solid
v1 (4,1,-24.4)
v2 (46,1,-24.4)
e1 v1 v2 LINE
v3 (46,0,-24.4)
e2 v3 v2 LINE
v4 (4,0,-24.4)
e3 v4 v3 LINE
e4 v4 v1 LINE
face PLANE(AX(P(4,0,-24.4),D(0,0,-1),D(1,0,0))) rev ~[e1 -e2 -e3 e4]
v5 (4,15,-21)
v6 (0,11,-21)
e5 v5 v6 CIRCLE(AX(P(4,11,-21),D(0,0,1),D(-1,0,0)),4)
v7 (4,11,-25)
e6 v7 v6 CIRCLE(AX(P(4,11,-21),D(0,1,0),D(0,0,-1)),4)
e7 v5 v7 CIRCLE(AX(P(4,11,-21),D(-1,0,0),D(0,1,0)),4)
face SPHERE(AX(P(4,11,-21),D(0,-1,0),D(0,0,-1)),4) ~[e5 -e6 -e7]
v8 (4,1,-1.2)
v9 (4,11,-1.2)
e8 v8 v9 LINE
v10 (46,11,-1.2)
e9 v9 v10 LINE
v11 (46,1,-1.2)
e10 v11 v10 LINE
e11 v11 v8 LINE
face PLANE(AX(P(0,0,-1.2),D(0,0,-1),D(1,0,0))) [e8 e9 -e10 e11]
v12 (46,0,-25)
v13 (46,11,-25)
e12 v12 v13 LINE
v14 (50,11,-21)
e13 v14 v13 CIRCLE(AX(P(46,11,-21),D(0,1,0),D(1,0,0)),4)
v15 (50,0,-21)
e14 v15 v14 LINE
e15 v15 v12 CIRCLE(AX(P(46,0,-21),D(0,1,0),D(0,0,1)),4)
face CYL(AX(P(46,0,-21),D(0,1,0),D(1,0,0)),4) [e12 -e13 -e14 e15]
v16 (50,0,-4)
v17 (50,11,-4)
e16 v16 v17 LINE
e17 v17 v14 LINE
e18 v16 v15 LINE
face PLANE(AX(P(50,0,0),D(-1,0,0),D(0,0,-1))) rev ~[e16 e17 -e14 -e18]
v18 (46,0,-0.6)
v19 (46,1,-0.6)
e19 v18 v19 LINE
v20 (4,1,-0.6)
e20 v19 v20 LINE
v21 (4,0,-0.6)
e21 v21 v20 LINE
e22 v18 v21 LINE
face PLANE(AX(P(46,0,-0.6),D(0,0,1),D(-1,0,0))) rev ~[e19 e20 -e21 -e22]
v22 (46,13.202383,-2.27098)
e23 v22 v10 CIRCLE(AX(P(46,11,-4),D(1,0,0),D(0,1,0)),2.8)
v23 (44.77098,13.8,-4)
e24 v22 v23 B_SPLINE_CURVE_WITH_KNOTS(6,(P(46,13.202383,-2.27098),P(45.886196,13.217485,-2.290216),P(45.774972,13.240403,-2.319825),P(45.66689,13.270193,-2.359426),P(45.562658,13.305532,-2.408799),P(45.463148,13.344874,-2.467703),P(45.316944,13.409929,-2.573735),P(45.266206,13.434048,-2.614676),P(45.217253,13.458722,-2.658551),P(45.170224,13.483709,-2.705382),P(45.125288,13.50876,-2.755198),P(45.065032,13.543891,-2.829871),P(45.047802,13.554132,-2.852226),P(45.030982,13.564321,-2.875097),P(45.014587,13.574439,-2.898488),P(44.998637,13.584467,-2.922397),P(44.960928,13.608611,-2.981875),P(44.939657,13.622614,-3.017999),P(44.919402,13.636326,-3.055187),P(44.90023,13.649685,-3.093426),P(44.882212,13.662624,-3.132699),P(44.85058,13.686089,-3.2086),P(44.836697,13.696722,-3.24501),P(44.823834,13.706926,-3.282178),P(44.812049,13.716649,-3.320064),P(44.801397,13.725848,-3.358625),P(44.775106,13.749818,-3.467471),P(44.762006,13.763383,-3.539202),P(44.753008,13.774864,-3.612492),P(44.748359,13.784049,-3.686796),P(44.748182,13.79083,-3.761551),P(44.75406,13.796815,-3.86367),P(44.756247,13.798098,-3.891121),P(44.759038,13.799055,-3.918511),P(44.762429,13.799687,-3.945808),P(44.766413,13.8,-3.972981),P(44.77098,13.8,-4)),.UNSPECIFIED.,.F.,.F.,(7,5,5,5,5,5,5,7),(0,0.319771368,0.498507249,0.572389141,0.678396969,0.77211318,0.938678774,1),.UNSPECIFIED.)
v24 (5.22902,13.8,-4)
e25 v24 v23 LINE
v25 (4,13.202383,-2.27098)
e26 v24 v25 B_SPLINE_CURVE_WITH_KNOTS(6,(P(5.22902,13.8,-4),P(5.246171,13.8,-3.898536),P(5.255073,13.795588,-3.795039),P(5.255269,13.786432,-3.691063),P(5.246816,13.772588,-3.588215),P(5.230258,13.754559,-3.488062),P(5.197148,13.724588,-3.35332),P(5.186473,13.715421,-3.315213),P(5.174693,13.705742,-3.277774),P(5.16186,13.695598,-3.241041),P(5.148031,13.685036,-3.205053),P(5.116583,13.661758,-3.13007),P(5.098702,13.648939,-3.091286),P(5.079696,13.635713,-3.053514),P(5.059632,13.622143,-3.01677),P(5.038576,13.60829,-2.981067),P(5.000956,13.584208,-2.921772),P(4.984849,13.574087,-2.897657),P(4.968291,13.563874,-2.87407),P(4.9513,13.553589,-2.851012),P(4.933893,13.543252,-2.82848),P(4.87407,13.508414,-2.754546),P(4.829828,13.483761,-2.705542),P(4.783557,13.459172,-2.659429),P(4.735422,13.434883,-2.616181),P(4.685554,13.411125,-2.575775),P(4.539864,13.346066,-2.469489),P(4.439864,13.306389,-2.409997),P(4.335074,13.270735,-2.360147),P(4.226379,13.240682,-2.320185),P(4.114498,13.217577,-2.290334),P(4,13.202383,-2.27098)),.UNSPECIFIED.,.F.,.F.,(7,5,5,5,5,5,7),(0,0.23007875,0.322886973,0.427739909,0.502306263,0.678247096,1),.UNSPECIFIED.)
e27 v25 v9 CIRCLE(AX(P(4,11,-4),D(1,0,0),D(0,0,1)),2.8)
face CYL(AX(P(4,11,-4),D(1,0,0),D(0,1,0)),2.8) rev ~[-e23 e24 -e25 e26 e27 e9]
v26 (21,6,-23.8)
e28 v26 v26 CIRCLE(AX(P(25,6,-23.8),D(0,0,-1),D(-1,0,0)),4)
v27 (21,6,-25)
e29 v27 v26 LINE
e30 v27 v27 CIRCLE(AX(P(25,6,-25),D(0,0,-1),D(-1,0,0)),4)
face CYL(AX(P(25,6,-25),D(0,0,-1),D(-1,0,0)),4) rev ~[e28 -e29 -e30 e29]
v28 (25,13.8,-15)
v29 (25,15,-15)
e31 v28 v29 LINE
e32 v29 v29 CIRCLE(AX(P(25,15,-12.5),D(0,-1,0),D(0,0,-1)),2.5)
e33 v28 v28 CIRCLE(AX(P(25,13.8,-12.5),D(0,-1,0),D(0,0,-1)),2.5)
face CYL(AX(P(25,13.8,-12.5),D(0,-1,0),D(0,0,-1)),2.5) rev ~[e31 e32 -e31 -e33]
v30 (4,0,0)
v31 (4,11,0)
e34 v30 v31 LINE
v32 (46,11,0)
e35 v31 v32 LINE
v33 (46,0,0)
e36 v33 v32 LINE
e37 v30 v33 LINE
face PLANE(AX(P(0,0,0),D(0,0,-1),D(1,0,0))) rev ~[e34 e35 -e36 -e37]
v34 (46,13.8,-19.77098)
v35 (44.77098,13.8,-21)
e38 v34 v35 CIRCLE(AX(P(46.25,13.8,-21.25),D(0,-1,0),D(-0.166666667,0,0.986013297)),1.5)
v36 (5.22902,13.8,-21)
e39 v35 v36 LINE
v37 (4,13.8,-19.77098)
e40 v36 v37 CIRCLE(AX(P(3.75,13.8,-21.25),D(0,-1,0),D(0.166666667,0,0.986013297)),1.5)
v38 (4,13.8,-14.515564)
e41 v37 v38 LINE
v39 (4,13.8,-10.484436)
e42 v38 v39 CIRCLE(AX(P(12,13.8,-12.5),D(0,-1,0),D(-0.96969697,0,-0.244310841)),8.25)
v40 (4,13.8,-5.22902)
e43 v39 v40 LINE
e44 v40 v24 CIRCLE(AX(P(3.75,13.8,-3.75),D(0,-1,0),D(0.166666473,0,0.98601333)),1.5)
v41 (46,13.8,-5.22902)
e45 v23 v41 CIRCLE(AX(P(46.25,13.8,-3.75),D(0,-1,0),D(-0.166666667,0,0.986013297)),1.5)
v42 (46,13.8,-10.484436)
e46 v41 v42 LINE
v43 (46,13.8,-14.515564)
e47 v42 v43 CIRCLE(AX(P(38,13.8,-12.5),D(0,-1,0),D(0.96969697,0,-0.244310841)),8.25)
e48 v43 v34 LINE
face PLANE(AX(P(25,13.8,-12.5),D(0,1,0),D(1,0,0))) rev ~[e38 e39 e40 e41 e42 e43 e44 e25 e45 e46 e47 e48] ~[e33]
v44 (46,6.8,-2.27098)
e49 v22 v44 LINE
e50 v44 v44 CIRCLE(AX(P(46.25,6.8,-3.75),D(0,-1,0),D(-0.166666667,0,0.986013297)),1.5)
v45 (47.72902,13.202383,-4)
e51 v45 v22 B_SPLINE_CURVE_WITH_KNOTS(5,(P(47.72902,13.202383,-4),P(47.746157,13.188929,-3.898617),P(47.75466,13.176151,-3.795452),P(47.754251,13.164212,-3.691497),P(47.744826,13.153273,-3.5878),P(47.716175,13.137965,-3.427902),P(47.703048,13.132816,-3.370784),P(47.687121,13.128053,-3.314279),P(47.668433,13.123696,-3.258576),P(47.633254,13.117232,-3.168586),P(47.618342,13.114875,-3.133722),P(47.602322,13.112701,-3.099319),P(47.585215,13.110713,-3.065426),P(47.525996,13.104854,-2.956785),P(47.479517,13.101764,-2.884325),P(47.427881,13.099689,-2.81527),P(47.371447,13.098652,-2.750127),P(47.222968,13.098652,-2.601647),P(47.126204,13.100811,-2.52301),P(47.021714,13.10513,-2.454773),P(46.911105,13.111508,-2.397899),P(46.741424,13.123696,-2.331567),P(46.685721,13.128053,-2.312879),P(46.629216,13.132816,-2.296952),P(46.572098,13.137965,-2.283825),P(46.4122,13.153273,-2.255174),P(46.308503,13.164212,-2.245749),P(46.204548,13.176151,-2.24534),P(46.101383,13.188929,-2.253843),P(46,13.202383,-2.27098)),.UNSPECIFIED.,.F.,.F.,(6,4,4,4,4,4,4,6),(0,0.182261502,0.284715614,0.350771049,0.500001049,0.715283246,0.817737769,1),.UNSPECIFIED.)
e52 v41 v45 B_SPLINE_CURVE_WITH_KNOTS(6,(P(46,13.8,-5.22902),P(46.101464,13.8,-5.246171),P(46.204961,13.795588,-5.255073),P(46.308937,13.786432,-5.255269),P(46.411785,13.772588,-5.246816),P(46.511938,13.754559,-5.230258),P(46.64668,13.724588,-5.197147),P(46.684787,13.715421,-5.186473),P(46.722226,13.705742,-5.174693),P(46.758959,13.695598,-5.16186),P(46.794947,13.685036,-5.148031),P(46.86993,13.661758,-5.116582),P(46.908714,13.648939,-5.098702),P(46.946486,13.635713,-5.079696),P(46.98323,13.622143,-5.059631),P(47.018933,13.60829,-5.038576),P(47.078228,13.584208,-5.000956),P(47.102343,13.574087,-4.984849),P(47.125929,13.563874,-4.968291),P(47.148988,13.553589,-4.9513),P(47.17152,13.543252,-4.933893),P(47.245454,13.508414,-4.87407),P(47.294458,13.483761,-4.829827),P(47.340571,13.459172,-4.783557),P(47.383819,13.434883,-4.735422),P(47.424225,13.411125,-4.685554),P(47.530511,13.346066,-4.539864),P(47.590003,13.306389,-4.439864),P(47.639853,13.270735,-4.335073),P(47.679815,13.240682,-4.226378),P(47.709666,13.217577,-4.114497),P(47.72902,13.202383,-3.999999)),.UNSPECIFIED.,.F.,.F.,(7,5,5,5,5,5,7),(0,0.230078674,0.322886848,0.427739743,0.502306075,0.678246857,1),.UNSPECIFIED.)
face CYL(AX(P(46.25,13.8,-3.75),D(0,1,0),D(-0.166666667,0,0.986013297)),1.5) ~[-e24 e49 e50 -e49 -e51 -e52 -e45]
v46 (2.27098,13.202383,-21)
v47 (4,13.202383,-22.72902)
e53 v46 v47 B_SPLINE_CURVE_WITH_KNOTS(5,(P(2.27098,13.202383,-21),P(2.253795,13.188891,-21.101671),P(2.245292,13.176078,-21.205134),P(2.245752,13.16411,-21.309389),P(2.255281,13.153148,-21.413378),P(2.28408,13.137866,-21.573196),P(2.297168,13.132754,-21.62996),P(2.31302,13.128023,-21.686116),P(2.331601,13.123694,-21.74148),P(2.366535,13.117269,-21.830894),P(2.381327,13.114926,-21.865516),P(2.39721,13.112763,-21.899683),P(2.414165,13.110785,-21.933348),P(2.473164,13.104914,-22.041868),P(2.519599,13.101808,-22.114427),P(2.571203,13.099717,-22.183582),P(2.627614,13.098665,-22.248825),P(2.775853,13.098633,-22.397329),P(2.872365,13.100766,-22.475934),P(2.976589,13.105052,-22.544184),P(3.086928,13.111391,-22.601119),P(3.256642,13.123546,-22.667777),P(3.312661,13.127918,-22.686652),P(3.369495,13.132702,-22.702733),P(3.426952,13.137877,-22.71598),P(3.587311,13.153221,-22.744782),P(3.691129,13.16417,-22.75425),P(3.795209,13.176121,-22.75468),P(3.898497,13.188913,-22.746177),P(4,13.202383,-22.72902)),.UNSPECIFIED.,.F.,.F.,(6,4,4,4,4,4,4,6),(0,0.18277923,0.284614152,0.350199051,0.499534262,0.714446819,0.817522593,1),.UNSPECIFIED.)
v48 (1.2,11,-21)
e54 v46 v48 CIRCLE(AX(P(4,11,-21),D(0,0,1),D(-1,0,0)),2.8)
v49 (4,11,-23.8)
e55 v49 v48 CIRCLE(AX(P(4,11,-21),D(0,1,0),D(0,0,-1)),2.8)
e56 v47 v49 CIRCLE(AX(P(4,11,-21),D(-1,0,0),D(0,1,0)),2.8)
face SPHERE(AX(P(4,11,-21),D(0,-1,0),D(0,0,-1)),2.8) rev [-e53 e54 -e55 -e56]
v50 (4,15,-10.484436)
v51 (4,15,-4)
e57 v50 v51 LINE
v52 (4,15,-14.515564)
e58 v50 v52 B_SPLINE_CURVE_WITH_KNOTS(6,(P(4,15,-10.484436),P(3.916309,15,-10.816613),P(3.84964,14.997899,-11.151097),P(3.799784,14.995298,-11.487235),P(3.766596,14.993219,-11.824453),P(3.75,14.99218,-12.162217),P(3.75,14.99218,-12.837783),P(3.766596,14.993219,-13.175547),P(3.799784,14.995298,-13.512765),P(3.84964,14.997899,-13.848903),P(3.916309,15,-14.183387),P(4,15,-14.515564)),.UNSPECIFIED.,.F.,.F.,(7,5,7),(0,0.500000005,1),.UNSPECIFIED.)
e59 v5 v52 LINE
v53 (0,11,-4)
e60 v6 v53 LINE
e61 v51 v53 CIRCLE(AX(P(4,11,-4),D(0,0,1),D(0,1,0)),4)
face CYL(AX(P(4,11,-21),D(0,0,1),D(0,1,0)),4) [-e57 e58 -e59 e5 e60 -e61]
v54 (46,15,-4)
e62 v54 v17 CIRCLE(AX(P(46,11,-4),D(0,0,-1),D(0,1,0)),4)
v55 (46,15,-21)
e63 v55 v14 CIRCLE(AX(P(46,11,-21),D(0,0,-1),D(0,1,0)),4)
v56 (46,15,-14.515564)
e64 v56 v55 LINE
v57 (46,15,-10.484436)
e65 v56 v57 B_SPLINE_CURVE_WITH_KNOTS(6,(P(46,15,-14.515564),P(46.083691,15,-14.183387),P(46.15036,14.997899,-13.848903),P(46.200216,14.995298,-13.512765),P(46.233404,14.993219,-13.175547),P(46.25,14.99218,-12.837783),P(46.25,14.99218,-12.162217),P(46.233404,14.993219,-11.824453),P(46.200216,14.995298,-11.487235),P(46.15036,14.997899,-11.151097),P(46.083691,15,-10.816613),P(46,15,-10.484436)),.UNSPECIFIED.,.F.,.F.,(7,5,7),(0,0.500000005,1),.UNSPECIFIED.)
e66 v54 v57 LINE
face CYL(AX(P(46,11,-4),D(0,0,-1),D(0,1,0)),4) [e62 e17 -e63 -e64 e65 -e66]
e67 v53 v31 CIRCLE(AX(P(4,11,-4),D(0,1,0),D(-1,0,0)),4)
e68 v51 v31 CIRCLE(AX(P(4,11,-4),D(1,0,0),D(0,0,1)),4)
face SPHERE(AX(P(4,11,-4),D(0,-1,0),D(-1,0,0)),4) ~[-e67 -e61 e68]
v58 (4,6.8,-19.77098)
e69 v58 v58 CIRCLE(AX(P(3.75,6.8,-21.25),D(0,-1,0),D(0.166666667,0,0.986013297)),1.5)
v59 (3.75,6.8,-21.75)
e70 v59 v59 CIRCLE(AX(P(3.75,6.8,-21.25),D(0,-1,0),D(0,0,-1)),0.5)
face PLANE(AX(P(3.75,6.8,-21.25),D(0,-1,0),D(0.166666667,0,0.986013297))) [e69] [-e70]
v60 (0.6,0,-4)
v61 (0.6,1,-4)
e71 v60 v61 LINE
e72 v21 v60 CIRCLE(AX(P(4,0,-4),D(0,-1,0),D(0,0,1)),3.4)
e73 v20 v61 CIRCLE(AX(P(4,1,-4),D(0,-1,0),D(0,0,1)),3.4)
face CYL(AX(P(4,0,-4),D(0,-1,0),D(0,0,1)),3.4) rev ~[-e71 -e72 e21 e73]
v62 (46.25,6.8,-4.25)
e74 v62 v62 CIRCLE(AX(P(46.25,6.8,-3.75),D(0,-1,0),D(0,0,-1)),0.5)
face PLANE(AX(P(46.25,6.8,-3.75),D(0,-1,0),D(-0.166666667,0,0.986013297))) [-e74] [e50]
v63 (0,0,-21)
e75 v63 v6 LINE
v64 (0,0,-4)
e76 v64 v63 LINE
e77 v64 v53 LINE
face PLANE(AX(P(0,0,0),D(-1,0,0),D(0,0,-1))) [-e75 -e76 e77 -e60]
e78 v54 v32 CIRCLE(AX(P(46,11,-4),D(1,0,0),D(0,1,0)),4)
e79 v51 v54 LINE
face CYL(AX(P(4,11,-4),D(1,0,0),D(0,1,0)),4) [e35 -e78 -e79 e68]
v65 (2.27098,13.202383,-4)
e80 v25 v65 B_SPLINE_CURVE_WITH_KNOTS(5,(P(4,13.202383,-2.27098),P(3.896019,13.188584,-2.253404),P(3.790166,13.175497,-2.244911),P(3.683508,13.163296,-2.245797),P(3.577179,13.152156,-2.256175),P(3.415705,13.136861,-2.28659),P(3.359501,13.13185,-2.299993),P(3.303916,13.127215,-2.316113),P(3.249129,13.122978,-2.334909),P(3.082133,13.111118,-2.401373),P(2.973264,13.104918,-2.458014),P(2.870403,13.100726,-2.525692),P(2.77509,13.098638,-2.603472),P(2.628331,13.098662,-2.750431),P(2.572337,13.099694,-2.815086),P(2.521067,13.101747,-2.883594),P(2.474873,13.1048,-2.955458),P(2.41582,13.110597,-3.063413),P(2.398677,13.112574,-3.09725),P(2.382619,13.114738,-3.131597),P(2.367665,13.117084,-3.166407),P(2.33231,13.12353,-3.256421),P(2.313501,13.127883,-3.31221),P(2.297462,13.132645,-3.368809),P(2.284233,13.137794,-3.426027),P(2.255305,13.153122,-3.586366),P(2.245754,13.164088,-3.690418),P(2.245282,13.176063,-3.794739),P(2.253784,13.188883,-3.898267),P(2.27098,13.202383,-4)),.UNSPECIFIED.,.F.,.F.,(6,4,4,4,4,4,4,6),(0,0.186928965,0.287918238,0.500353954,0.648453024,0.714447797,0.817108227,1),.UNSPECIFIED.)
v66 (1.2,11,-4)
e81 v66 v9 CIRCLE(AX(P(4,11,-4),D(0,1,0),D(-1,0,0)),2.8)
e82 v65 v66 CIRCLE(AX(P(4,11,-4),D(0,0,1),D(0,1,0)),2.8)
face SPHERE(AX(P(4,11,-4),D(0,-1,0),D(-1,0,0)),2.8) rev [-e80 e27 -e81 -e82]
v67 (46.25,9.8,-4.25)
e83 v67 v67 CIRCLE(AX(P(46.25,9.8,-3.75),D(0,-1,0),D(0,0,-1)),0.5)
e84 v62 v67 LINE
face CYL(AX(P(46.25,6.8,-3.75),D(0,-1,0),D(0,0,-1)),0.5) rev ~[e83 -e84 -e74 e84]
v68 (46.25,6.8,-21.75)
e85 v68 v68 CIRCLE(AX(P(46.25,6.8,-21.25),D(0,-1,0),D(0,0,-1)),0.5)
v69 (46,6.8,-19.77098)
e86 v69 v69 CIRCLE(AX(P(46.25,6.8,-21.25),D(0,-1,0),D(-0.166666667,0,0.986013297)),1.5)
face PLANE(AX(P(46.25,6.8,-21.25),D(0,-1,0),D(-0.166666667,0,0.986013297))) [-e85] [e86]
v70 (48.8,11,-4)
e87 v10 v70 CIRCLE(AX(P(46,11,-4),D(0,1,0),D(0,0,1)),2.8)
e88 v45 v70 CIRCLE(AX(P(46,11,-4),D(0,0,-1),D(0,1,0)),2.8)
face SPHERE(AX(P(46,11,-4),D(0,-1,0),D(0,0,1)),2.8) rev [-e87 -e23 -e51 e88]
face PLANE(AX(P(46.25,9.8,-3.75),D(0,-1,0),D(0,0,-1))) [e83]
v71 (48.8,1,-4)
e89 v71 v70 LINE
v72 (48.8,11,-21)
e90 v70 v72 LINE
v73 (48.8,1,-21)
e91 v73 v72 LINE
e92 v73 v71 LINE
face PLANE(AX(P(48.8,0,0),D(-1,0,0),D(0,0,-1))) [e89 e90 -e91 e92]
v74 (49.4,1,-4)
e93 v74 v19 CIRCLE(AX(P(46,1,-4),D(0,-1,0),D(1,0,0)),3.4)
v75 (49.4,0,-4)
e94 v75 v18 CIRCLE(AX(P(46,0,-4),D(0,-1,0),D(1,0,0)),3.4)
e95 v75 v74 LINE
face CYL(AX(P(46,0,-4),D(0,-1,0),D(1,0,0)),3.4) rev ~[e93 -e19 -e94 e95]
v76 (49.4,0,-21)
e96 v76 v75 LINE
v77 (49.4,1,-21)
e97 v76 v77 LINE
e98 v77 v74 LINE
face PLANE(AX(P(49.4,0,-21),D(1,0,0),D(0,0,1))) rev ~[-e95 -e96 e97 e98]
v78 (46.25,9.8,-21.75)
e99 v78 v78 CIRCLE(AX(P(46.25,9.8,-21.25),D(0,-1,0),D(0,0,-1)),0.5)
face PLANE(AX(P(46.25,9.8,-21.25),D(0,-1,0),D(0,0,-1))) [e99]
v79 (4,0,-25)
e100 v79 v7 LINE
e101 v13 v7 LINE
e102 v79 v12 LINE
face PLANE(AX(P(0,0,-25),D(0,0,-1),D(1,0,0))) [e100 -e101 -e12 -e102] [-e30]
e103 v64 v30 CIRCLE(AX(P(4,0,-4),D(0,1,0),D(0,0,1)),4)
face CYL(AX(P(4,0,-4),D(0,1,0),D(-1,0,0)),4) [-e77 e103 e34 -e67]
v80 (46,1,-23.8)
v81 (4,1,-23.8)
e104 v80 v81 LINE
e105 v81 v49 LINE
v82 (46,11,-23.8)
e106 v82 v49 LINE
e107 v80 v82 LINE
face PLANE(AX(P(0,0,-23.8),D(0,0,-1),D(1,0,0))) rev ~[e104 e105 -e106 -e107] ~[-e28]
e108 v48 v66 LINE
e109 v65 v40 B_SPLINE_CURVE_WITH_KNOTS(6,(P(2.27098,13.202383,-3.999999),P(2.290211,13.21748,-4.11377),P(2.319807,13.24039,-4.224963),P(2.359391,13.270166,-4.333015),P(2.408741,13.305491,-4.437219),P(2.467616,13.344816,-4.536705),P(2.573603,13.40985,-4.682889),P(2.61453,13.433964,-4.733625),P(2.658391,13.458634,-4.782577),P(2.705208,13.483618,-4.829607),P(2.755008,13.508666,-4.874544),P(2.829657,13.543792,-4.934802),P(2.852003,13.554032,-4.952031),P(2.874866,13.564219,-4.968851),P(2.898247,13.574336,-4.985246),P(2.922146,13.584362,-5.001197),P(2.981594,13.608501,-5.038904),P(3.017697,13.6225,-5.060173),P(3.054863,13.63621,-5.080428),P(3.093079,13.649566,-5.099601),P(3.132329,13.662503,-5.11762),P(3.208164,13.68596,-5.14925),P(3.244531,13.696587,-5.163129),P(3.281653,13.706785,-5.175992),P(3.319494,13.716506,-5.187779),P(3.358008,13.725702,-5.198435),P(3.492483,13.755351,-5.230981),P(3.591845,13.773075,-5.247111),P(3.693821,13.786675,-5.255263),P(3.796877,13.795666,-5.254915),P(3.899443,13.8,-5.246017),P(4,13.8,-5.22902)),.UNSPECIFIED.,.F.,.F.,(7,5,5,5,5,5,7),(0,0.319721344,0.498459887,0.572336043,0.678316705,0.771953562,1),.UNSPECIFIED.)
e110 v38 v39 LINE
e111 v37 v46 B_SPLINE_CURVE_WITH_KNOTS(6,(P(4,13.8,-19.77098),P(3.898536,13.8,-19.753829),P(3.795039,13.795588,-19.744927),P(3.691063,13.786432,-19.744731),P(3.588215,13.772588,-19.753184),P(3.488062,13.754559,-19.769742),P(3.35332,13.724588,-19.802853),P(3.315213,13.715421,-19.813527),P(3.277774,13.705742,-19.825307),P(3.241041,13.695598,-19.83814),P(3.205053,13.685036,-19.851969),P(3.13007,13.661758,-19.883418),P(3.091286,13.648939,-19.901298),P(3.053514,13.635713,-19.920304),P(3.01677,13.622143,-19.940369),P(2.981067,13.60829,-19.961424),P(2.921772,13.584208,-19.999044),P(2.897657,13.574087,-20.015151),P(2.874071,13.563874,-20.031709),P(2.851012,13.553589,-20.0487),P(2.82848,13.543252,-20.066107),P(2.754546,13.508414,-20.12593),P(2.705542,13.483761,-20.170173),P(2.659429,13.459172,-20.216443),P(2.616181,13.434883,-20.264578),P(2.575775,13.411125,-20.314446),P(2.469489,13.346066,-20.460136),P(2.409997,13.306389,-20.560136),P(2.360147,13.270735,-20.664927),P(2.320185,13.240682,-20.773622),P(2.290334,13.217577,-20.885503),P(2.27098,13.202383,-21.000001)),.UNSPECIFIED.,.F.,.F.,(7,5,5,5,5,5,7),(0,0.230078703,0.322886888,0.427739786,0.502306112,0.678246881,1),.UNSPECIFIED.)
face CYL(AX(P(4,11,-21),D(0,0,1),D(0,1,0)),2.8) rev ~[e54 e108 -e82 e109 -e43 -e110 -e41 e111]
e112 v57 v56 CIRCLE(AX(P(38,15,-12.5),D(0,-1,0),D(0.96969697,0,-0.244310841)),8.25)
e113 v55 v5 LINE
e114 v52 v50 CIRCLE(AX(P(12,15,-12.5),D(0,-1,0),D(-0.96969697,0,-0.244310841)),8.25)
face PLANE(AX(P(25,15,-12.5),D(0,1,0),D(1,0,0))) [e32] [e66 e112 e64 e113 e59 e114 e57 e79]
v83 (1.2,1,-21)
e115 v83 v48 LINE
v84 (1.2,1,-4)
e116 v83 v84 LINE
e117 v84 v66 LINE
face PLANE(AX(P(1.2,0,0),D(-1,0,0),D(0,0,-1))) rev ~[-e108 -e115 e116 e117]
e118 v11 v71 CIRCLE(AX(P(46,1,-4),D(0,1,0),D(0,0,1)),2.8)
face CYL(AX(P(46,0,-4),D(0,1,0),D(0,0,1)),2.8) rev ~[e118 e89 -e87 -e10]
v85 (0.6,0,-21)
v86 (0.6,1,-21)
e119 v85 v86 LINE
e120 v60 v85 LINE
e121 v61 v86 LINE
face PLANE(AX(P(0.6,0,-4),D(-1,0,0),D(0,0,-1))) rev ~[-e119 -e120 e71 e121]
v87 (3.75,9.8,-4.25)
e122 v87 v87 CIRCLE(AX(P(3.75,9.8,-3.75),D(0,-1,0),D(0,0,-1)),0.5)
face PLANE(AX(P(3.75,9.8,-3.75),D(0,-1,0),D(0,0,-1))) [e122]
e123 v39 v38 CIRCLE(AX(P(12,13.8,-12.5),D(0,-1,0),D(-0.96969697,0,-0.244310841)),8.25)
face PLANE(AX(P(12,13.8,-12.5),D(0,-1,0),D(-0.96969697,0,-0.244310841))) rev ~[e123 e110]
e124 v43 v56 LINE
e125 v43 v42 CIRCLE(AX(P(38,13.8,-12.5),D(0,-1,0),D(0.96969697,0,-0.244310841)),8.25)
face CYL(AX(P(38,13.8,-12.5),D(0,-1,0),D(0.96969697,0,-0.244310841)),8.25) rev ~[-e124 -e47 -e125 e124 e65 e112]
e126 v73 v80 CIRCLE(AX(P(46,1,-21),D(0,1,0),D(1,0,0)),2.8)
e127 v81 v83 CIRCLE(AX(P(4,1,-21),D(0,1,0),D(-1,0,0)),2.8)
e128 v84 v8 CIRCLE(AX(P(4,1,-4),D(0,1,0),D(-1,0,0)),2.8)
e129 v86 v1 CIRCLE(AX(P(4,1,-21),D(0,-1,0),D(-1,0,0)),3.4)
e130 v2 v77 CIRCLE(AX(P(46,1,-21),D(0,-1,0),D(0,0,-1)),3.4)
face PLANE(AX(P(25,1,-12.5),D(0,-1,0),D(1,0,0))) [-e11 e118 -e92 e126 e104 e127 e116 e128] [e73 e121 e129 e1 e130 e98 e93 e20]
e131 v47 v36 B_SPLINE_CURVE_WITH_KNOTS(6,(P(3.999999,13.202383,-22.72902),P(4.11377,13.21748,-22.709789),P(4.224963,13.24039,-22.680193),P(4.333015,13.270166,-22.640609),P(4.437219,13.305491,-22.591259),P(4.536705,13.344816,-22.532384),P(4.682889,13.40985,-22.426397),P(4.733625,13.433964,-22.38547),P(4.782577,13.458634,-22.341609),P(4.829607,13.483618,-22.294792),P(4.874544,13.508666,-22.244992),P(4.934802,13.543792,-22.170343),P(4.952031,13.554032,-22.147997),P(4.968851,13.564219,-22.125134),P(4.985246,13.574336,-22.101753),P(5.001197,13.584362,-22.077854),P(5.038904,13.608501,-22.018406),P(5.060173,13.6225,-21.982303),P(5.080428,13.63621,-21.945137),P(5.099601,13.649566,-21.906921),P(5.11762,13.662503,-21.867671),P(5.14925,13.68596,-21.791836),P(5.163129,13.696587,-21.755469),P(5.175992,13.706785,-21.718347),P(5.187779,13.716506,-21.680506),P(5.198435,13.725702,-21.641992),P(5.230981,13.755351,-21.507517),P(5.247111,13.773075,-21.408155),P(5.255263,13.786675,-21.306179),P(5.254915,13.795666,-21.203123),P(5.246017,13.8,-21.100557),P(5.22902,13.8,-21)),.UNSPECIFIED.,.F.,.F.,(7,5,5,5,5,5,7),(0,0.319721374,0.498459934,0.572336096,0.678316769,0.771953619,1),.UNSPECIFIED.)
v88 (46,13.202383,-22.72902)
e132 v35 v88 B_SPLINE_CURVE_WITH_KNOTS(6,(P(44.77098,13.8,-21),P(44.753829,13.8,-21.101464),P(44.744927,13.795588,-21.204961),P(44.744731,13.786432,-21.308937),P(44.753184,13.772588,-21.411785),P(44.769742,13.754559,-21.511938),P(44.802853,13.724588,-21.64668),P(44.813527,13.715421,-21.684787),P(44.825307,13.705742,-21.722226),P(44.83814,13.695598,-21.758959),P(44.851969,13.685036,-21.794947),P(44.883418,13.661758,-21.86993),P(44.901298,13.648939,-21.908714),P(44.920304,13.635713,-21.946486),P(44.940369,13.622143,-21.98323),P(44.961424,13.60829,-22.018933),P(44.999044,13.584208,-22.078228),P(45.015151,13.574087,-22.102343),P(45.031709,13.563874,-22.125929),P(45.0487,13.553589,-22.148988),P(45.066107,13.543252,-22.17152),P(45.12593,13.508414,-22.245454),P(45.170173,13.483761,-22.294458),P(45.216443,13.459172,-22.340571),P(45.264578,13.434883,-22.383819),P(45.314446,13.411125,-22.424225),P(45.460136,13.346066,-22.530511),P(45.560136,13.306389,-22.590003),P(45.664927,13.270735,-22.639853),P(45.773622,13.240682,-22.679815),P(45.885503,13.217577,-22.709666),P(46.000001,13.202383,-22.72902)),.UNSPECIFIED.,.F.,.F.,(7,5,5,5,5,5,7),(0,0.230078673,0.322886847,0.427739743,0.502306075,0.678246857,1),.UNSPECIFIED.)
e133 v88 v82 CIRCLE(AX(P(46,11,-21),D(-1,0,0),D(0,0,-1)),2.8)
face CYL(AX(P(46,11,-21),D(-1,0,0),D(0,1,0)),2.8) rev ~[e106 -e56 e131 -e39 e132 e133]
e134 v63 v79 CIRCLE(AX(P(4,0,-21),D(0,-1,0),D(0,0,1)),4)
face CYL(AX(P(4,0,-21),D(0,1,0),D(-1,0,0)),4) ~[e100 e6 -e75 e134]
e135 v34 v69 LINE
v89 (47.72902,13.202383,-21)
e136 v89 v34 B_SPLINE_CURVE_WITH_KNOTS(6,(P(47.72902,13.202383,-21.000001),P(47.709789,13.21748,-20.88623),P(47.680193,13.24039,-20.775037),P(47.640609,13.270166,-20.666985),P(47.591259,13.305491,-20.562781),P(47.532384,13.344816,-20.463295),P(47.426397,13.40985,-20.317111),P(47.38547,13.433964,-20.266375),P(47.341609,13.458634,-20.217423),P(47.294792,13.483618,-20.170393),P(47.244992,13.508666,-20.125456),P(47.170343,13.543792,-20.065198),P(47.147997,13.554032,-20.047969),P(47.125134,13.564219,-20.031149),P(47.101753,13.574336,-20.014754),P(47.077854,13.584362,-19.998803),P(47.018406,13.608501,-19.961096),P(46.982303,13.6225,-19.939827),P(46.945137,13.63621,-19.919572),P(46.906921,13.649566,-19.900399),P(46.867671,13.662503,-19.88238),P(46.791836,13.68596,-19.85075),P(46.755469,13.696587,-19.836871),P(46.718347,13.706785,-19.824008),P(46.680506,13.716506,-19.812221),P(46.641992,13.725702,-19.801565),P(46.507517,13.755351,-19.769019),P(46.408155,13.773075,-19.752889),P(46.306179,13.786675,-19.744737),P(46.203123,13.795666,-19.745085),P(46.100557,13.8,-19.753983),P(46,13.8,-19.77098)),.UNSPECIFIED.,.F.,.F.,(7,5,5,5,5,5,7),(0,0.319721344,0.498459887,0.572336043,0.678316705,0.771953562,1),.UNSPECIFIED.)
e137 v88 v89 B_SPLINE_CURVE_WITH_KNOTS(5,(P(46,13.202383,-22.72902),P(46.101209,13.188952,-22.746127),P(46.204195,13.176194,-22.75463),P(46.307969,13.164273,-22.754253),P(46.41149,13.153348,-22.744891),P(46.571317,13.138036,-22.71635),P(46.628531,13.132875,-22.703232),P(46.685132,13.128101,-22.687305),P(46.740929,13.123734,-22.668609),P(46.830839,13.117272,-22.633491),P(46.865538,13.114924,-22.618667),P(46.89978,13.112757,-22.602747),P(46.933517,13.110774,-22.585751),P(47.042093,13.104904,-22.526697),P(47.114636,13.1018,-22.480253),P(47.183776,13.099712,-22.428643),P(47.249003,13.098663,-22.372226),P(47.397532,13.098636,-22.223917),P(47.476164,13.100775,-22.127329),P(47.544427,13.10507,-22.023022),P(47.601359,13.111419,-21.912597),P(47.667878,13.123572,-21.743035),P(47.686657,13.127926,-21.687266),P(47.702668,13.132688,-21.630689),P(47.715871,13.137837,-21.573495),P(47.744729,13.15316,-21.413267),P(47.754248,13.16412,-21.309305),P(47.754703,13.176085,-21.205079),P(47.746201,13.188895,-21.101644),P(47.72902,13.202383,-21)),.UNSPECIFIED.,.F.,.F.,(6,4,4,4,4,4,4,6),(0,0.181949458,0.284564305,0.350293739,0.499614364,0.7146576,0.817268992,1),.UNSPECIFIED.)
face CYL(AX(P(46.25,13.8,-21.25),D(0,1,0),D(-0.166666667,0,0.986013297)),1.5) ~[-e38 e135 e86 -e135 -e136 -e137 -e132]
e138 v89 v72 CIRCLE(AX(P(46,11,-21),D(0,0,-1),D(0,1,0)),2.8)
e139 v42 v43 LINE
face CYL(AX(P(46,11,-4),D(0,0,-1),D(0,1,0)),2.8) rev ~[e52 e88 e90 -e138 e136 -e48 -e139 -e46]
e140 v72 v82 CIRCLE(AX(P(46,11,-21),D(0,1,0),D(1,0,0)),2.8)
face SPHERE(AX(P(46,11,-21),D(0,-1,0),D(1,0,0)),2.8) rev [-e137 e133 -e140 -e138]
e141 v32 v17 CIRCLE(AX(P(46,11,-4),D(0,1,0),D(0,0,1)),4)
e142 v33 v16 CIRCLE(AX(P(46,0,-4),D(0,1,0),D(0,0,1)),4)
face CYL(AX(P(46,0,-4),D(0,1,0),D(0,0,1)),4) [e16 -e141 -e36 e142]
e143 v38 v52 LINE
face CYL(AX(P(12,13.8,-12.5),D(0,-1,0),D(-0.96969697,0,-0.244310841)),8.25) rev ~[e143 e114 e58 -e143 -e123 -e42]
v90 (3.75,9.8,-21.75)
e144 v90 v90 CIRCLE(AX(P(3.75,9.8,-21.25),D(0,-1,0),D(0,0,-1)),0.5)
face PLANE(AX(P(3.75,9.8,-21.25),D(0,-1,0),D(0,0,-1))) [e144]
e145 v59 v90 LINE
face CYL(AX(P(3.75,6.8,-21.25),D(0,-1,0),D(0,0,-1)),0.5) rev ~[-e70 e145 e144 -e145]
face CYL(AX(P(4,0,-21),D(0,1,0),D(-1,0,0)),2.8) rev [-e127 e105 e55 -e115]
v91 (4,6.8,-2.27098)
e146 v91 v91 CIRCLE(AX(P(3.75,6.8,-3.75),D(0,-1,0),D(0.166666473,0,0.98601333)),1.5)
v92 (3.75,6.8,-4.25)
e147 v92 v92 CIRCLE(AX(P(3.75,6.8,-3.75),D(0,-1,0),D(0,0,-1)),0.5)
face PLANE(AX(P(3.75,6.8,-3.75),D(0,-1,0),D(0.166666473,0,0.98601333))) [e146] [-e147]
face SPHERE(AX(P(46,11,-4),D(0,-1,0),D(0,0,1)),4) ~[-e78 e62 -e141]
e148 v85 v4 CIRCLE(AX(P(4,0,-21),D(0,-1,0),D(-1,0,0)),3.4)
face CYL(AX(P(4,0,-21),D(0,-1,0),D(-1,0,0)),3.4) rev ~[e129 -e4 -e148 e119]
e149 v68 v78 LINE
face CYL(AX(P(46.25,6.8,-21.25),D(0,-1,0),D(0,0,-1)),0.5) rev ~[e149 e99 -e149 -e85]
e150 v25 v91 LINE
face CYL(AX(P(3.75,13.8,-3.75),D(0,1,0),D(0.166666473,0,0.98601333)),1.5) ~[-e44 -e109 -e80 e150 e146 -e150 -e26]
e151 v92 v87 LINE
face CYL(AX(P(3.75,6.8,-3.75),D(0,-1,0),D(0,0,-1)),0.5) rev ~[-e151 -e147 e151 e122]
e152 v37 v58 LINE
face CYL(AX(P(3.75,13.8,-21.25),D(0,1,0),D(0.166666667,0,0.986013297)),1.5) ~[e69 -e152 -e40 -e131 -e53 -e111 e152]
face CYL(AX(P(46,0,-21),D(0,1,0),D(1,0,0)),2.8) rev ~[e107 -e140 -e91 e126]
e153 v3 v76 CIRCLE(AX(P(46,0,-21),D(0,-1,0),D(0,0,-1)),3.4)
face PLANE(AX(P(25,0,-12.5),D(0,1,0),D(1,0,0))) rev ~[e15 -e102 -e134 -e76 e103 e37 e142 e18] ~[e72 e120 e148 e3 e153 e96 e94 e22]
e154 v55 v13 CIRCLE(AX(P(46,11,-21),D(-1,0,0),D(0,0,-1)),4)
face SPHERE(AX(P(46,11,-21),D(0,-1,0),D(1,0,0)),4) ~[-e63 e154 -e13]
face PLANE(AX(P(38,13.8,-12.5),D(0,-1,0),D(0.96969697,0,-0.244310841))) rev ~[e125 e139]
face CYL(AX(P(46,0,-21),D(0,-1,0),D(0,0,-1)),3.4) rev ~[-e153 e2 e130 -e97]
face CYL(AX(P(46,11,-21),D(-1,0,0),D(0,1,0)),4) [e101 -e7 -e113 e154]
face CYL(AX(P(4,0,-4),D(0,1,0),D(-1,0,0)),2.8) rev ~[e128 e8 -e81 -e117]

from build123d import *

# Parameters (mm, degrees)
SKETCH1_W           = 50
SKETCH1_H           = 25
BOSS_EXTRUDE2_DEPTH = 15
FILLET1_R           = 4
FILLET2_R           = 4
SHELL1_T            = -1.2
SKETCH2_R           = 8.25
CUT_EXTRUDE1_DEPTH  = 58.579857589
SKETCH3_R           = 1.5
BOSS_EXTRUDE3_DEPTH = 7
SKETCH6_R           = 0.5
CUT_EXTRUDE3_DEPTH  = 3
CUT_EXTRUDE6_DEPTH  = 1
SKETCH9_R           = 4
CUT_EXTRUDE15_DEPTH = 1.2
SKETCH13_R          = 2.5
CUT_EXTRUDE16_DEPTH = 58.579857676


with BuildPart() as part:
    # Sketch1 → Boss-Extrude2 (new body)
    with BuildSketch(Plane(origin=(0, 0, 0), x_dir=(1, 0, 0), z_dir=(0, 1, 0))):
        with Locations((25, 12.5)):
            Rectangle(SKETCH1_W, SKETCH1_H)
    extrude(amount=BOSS_EXTRUDE2_DEPTH)

    # Fillet1
    fillet1_edges = [part.edges().sort_by_distance(p)[0] for p in [
        (0, 7.5, -25),
        (50, 7.5, -25),
        (50, 7.5, 0),
        (0, 7.5, 0),
    ]]
    fillet(fillet1_edges, radius=FILLET1_R)

    # Fillet2
    fillet2_edges = [part.edges().sort_by_distance(p)[0] for p in [
        (50, 15, -12.5),
        (25, 15, 0),
        (0, 15, -12.5),
        (25, 15, -25),
        (48.828427125, 15, -23.828427125),
        (1.171572875, 15, -23.828427125),
        (1.171572875, 15, -1.171572875),
        (48.828427125, 15, -1.171572875),
    ]]
    fillet(fillet2_edges, radius=FILLET2_R)

    # Shell1
    shell1_openings = [part.faces().sort_by_distance(p)[0] for p in [
        (25, 0, -12.5),
    ]]
    offset(amount=SHELL1_T, openings=shell1_openings, kind=Kind.INTERSECTION)

    # Sketch2 → Cut-Extrude1 (cut, through all)
    with BuildSketch(Plane.XZ.offset(-13.8)):
        with Locations(Location((38, -12.5, 0), (0, 0, 345.858889766))):
            Circle(SKETCH2_R)
        with Locations(Location((12, -12.5, 0), (0, 0, 194.141110234))):
            Circle(SKETCH2_R)
    extrude(amount=-CUT_EXTRUDE1_DEPTH, mode=Mode.SUBTRACT)

    # Sketch3 → Boss-Extrude3 (add)
    with BuildSketch(Plane.XZ.offset(-13.8)):
        with Locations(Location((46.25, -21.25, 0), (0, 0, 99.594068224))):
            Circle(SKETCH3_R)
        with Locations(Location((3.75, -21.25, 0), (0, 0, 80.405931773))):
            Circle(SKETCH3_R)
        with Locations(Location((3.75, -3.75, 0), (0, 0, 80.405943008))):
            Circle(SKETCH3_R)
        with Locations(Location((46.25, -3.75, 0), (0, 0, 99.594068235))):
            Circle(SKETCH3_R)
    extrude(amount=BOSS_EXTRUDE3_DEPTH)

    # Sketch6 → Cut-Extrude3 (cut)
    with BuildSketch(Plane.XZ.offset(-6.8)):
        with Locations(Location((46.25, -3.75, 0), (0, 0, 270))):
            Circle(SKETCH6_R)
        with Locations(Location((46.25, -21.25, 0), (0, 0, 270))):
            Circle(SKETCH6_R)
        with Locations(Location((3.75, -21.25, 0), (0, 0, 270))):
            Circle(SKETCH6_R)
        with Locations(Location((3.75, -3.75, 0), (0, 0, 270))):
            Circle(SKETCH6_R)
    extrude(amount=-CUT_EXTRUDE3_DEPTH, mode=Mode.SUBTRACT)

    # Sketch8 → Cut-Extrude6 (cut)
    with BuildSketch(Plane.XZ):
        with BuildLine():
            Line((0.6, -4), (0.6, -21))
            ThreePointArc((0.6, -21), (1.595836944, -23.404163056), (4, -24.4))
            Line((4, -24.4), (46, -24.4))
            ThreePointArc((46, -24.4), (48.404163056, -23.404163056), (49.4, -21))
            Line((49.4, -21), (49.4, -4))
            ThreePointArc((49.4, -4), (48.404163056, -1.595836944), (46, -0.6))
            Line((46, -0.6), (4, -0.6))
            ThreePointArc((4, -0.6), (1.595836944, -1.595836944), (0.6, -4))
        make_face()
    extrude(amount=-CUT_EXTRUDE6_DEPTH, mode=Mode.SUBTRACT)

    # Sketch9 → Cut-Extrude15 (cut)
    with BuildSketch(Plane(origin=(0, 0, -25), x_dir=(-1, 0, 0), z_dir=(0, 0, -1))):
        with Locations((-25, 6)):
            Circle(SKETCH9_R)
    extrude(amount=-CUT_EXTRUDE15_DEPTH, mode=Mode.SUBTRACT)

    # Sketch13 → Cut-Extrude16 (cut, through all)
    with BuildSketch(Plane.XZ.offset(-13.8)):
        with Locations(Location((25, -12.5, 0), (0, 0, 270))):
            Circle(SKETCH13_R)
    extrude(amount=-CUT_EXTRUDE16_DEPTH, mode=Mode.SUBTRACT)


solid = part.part
